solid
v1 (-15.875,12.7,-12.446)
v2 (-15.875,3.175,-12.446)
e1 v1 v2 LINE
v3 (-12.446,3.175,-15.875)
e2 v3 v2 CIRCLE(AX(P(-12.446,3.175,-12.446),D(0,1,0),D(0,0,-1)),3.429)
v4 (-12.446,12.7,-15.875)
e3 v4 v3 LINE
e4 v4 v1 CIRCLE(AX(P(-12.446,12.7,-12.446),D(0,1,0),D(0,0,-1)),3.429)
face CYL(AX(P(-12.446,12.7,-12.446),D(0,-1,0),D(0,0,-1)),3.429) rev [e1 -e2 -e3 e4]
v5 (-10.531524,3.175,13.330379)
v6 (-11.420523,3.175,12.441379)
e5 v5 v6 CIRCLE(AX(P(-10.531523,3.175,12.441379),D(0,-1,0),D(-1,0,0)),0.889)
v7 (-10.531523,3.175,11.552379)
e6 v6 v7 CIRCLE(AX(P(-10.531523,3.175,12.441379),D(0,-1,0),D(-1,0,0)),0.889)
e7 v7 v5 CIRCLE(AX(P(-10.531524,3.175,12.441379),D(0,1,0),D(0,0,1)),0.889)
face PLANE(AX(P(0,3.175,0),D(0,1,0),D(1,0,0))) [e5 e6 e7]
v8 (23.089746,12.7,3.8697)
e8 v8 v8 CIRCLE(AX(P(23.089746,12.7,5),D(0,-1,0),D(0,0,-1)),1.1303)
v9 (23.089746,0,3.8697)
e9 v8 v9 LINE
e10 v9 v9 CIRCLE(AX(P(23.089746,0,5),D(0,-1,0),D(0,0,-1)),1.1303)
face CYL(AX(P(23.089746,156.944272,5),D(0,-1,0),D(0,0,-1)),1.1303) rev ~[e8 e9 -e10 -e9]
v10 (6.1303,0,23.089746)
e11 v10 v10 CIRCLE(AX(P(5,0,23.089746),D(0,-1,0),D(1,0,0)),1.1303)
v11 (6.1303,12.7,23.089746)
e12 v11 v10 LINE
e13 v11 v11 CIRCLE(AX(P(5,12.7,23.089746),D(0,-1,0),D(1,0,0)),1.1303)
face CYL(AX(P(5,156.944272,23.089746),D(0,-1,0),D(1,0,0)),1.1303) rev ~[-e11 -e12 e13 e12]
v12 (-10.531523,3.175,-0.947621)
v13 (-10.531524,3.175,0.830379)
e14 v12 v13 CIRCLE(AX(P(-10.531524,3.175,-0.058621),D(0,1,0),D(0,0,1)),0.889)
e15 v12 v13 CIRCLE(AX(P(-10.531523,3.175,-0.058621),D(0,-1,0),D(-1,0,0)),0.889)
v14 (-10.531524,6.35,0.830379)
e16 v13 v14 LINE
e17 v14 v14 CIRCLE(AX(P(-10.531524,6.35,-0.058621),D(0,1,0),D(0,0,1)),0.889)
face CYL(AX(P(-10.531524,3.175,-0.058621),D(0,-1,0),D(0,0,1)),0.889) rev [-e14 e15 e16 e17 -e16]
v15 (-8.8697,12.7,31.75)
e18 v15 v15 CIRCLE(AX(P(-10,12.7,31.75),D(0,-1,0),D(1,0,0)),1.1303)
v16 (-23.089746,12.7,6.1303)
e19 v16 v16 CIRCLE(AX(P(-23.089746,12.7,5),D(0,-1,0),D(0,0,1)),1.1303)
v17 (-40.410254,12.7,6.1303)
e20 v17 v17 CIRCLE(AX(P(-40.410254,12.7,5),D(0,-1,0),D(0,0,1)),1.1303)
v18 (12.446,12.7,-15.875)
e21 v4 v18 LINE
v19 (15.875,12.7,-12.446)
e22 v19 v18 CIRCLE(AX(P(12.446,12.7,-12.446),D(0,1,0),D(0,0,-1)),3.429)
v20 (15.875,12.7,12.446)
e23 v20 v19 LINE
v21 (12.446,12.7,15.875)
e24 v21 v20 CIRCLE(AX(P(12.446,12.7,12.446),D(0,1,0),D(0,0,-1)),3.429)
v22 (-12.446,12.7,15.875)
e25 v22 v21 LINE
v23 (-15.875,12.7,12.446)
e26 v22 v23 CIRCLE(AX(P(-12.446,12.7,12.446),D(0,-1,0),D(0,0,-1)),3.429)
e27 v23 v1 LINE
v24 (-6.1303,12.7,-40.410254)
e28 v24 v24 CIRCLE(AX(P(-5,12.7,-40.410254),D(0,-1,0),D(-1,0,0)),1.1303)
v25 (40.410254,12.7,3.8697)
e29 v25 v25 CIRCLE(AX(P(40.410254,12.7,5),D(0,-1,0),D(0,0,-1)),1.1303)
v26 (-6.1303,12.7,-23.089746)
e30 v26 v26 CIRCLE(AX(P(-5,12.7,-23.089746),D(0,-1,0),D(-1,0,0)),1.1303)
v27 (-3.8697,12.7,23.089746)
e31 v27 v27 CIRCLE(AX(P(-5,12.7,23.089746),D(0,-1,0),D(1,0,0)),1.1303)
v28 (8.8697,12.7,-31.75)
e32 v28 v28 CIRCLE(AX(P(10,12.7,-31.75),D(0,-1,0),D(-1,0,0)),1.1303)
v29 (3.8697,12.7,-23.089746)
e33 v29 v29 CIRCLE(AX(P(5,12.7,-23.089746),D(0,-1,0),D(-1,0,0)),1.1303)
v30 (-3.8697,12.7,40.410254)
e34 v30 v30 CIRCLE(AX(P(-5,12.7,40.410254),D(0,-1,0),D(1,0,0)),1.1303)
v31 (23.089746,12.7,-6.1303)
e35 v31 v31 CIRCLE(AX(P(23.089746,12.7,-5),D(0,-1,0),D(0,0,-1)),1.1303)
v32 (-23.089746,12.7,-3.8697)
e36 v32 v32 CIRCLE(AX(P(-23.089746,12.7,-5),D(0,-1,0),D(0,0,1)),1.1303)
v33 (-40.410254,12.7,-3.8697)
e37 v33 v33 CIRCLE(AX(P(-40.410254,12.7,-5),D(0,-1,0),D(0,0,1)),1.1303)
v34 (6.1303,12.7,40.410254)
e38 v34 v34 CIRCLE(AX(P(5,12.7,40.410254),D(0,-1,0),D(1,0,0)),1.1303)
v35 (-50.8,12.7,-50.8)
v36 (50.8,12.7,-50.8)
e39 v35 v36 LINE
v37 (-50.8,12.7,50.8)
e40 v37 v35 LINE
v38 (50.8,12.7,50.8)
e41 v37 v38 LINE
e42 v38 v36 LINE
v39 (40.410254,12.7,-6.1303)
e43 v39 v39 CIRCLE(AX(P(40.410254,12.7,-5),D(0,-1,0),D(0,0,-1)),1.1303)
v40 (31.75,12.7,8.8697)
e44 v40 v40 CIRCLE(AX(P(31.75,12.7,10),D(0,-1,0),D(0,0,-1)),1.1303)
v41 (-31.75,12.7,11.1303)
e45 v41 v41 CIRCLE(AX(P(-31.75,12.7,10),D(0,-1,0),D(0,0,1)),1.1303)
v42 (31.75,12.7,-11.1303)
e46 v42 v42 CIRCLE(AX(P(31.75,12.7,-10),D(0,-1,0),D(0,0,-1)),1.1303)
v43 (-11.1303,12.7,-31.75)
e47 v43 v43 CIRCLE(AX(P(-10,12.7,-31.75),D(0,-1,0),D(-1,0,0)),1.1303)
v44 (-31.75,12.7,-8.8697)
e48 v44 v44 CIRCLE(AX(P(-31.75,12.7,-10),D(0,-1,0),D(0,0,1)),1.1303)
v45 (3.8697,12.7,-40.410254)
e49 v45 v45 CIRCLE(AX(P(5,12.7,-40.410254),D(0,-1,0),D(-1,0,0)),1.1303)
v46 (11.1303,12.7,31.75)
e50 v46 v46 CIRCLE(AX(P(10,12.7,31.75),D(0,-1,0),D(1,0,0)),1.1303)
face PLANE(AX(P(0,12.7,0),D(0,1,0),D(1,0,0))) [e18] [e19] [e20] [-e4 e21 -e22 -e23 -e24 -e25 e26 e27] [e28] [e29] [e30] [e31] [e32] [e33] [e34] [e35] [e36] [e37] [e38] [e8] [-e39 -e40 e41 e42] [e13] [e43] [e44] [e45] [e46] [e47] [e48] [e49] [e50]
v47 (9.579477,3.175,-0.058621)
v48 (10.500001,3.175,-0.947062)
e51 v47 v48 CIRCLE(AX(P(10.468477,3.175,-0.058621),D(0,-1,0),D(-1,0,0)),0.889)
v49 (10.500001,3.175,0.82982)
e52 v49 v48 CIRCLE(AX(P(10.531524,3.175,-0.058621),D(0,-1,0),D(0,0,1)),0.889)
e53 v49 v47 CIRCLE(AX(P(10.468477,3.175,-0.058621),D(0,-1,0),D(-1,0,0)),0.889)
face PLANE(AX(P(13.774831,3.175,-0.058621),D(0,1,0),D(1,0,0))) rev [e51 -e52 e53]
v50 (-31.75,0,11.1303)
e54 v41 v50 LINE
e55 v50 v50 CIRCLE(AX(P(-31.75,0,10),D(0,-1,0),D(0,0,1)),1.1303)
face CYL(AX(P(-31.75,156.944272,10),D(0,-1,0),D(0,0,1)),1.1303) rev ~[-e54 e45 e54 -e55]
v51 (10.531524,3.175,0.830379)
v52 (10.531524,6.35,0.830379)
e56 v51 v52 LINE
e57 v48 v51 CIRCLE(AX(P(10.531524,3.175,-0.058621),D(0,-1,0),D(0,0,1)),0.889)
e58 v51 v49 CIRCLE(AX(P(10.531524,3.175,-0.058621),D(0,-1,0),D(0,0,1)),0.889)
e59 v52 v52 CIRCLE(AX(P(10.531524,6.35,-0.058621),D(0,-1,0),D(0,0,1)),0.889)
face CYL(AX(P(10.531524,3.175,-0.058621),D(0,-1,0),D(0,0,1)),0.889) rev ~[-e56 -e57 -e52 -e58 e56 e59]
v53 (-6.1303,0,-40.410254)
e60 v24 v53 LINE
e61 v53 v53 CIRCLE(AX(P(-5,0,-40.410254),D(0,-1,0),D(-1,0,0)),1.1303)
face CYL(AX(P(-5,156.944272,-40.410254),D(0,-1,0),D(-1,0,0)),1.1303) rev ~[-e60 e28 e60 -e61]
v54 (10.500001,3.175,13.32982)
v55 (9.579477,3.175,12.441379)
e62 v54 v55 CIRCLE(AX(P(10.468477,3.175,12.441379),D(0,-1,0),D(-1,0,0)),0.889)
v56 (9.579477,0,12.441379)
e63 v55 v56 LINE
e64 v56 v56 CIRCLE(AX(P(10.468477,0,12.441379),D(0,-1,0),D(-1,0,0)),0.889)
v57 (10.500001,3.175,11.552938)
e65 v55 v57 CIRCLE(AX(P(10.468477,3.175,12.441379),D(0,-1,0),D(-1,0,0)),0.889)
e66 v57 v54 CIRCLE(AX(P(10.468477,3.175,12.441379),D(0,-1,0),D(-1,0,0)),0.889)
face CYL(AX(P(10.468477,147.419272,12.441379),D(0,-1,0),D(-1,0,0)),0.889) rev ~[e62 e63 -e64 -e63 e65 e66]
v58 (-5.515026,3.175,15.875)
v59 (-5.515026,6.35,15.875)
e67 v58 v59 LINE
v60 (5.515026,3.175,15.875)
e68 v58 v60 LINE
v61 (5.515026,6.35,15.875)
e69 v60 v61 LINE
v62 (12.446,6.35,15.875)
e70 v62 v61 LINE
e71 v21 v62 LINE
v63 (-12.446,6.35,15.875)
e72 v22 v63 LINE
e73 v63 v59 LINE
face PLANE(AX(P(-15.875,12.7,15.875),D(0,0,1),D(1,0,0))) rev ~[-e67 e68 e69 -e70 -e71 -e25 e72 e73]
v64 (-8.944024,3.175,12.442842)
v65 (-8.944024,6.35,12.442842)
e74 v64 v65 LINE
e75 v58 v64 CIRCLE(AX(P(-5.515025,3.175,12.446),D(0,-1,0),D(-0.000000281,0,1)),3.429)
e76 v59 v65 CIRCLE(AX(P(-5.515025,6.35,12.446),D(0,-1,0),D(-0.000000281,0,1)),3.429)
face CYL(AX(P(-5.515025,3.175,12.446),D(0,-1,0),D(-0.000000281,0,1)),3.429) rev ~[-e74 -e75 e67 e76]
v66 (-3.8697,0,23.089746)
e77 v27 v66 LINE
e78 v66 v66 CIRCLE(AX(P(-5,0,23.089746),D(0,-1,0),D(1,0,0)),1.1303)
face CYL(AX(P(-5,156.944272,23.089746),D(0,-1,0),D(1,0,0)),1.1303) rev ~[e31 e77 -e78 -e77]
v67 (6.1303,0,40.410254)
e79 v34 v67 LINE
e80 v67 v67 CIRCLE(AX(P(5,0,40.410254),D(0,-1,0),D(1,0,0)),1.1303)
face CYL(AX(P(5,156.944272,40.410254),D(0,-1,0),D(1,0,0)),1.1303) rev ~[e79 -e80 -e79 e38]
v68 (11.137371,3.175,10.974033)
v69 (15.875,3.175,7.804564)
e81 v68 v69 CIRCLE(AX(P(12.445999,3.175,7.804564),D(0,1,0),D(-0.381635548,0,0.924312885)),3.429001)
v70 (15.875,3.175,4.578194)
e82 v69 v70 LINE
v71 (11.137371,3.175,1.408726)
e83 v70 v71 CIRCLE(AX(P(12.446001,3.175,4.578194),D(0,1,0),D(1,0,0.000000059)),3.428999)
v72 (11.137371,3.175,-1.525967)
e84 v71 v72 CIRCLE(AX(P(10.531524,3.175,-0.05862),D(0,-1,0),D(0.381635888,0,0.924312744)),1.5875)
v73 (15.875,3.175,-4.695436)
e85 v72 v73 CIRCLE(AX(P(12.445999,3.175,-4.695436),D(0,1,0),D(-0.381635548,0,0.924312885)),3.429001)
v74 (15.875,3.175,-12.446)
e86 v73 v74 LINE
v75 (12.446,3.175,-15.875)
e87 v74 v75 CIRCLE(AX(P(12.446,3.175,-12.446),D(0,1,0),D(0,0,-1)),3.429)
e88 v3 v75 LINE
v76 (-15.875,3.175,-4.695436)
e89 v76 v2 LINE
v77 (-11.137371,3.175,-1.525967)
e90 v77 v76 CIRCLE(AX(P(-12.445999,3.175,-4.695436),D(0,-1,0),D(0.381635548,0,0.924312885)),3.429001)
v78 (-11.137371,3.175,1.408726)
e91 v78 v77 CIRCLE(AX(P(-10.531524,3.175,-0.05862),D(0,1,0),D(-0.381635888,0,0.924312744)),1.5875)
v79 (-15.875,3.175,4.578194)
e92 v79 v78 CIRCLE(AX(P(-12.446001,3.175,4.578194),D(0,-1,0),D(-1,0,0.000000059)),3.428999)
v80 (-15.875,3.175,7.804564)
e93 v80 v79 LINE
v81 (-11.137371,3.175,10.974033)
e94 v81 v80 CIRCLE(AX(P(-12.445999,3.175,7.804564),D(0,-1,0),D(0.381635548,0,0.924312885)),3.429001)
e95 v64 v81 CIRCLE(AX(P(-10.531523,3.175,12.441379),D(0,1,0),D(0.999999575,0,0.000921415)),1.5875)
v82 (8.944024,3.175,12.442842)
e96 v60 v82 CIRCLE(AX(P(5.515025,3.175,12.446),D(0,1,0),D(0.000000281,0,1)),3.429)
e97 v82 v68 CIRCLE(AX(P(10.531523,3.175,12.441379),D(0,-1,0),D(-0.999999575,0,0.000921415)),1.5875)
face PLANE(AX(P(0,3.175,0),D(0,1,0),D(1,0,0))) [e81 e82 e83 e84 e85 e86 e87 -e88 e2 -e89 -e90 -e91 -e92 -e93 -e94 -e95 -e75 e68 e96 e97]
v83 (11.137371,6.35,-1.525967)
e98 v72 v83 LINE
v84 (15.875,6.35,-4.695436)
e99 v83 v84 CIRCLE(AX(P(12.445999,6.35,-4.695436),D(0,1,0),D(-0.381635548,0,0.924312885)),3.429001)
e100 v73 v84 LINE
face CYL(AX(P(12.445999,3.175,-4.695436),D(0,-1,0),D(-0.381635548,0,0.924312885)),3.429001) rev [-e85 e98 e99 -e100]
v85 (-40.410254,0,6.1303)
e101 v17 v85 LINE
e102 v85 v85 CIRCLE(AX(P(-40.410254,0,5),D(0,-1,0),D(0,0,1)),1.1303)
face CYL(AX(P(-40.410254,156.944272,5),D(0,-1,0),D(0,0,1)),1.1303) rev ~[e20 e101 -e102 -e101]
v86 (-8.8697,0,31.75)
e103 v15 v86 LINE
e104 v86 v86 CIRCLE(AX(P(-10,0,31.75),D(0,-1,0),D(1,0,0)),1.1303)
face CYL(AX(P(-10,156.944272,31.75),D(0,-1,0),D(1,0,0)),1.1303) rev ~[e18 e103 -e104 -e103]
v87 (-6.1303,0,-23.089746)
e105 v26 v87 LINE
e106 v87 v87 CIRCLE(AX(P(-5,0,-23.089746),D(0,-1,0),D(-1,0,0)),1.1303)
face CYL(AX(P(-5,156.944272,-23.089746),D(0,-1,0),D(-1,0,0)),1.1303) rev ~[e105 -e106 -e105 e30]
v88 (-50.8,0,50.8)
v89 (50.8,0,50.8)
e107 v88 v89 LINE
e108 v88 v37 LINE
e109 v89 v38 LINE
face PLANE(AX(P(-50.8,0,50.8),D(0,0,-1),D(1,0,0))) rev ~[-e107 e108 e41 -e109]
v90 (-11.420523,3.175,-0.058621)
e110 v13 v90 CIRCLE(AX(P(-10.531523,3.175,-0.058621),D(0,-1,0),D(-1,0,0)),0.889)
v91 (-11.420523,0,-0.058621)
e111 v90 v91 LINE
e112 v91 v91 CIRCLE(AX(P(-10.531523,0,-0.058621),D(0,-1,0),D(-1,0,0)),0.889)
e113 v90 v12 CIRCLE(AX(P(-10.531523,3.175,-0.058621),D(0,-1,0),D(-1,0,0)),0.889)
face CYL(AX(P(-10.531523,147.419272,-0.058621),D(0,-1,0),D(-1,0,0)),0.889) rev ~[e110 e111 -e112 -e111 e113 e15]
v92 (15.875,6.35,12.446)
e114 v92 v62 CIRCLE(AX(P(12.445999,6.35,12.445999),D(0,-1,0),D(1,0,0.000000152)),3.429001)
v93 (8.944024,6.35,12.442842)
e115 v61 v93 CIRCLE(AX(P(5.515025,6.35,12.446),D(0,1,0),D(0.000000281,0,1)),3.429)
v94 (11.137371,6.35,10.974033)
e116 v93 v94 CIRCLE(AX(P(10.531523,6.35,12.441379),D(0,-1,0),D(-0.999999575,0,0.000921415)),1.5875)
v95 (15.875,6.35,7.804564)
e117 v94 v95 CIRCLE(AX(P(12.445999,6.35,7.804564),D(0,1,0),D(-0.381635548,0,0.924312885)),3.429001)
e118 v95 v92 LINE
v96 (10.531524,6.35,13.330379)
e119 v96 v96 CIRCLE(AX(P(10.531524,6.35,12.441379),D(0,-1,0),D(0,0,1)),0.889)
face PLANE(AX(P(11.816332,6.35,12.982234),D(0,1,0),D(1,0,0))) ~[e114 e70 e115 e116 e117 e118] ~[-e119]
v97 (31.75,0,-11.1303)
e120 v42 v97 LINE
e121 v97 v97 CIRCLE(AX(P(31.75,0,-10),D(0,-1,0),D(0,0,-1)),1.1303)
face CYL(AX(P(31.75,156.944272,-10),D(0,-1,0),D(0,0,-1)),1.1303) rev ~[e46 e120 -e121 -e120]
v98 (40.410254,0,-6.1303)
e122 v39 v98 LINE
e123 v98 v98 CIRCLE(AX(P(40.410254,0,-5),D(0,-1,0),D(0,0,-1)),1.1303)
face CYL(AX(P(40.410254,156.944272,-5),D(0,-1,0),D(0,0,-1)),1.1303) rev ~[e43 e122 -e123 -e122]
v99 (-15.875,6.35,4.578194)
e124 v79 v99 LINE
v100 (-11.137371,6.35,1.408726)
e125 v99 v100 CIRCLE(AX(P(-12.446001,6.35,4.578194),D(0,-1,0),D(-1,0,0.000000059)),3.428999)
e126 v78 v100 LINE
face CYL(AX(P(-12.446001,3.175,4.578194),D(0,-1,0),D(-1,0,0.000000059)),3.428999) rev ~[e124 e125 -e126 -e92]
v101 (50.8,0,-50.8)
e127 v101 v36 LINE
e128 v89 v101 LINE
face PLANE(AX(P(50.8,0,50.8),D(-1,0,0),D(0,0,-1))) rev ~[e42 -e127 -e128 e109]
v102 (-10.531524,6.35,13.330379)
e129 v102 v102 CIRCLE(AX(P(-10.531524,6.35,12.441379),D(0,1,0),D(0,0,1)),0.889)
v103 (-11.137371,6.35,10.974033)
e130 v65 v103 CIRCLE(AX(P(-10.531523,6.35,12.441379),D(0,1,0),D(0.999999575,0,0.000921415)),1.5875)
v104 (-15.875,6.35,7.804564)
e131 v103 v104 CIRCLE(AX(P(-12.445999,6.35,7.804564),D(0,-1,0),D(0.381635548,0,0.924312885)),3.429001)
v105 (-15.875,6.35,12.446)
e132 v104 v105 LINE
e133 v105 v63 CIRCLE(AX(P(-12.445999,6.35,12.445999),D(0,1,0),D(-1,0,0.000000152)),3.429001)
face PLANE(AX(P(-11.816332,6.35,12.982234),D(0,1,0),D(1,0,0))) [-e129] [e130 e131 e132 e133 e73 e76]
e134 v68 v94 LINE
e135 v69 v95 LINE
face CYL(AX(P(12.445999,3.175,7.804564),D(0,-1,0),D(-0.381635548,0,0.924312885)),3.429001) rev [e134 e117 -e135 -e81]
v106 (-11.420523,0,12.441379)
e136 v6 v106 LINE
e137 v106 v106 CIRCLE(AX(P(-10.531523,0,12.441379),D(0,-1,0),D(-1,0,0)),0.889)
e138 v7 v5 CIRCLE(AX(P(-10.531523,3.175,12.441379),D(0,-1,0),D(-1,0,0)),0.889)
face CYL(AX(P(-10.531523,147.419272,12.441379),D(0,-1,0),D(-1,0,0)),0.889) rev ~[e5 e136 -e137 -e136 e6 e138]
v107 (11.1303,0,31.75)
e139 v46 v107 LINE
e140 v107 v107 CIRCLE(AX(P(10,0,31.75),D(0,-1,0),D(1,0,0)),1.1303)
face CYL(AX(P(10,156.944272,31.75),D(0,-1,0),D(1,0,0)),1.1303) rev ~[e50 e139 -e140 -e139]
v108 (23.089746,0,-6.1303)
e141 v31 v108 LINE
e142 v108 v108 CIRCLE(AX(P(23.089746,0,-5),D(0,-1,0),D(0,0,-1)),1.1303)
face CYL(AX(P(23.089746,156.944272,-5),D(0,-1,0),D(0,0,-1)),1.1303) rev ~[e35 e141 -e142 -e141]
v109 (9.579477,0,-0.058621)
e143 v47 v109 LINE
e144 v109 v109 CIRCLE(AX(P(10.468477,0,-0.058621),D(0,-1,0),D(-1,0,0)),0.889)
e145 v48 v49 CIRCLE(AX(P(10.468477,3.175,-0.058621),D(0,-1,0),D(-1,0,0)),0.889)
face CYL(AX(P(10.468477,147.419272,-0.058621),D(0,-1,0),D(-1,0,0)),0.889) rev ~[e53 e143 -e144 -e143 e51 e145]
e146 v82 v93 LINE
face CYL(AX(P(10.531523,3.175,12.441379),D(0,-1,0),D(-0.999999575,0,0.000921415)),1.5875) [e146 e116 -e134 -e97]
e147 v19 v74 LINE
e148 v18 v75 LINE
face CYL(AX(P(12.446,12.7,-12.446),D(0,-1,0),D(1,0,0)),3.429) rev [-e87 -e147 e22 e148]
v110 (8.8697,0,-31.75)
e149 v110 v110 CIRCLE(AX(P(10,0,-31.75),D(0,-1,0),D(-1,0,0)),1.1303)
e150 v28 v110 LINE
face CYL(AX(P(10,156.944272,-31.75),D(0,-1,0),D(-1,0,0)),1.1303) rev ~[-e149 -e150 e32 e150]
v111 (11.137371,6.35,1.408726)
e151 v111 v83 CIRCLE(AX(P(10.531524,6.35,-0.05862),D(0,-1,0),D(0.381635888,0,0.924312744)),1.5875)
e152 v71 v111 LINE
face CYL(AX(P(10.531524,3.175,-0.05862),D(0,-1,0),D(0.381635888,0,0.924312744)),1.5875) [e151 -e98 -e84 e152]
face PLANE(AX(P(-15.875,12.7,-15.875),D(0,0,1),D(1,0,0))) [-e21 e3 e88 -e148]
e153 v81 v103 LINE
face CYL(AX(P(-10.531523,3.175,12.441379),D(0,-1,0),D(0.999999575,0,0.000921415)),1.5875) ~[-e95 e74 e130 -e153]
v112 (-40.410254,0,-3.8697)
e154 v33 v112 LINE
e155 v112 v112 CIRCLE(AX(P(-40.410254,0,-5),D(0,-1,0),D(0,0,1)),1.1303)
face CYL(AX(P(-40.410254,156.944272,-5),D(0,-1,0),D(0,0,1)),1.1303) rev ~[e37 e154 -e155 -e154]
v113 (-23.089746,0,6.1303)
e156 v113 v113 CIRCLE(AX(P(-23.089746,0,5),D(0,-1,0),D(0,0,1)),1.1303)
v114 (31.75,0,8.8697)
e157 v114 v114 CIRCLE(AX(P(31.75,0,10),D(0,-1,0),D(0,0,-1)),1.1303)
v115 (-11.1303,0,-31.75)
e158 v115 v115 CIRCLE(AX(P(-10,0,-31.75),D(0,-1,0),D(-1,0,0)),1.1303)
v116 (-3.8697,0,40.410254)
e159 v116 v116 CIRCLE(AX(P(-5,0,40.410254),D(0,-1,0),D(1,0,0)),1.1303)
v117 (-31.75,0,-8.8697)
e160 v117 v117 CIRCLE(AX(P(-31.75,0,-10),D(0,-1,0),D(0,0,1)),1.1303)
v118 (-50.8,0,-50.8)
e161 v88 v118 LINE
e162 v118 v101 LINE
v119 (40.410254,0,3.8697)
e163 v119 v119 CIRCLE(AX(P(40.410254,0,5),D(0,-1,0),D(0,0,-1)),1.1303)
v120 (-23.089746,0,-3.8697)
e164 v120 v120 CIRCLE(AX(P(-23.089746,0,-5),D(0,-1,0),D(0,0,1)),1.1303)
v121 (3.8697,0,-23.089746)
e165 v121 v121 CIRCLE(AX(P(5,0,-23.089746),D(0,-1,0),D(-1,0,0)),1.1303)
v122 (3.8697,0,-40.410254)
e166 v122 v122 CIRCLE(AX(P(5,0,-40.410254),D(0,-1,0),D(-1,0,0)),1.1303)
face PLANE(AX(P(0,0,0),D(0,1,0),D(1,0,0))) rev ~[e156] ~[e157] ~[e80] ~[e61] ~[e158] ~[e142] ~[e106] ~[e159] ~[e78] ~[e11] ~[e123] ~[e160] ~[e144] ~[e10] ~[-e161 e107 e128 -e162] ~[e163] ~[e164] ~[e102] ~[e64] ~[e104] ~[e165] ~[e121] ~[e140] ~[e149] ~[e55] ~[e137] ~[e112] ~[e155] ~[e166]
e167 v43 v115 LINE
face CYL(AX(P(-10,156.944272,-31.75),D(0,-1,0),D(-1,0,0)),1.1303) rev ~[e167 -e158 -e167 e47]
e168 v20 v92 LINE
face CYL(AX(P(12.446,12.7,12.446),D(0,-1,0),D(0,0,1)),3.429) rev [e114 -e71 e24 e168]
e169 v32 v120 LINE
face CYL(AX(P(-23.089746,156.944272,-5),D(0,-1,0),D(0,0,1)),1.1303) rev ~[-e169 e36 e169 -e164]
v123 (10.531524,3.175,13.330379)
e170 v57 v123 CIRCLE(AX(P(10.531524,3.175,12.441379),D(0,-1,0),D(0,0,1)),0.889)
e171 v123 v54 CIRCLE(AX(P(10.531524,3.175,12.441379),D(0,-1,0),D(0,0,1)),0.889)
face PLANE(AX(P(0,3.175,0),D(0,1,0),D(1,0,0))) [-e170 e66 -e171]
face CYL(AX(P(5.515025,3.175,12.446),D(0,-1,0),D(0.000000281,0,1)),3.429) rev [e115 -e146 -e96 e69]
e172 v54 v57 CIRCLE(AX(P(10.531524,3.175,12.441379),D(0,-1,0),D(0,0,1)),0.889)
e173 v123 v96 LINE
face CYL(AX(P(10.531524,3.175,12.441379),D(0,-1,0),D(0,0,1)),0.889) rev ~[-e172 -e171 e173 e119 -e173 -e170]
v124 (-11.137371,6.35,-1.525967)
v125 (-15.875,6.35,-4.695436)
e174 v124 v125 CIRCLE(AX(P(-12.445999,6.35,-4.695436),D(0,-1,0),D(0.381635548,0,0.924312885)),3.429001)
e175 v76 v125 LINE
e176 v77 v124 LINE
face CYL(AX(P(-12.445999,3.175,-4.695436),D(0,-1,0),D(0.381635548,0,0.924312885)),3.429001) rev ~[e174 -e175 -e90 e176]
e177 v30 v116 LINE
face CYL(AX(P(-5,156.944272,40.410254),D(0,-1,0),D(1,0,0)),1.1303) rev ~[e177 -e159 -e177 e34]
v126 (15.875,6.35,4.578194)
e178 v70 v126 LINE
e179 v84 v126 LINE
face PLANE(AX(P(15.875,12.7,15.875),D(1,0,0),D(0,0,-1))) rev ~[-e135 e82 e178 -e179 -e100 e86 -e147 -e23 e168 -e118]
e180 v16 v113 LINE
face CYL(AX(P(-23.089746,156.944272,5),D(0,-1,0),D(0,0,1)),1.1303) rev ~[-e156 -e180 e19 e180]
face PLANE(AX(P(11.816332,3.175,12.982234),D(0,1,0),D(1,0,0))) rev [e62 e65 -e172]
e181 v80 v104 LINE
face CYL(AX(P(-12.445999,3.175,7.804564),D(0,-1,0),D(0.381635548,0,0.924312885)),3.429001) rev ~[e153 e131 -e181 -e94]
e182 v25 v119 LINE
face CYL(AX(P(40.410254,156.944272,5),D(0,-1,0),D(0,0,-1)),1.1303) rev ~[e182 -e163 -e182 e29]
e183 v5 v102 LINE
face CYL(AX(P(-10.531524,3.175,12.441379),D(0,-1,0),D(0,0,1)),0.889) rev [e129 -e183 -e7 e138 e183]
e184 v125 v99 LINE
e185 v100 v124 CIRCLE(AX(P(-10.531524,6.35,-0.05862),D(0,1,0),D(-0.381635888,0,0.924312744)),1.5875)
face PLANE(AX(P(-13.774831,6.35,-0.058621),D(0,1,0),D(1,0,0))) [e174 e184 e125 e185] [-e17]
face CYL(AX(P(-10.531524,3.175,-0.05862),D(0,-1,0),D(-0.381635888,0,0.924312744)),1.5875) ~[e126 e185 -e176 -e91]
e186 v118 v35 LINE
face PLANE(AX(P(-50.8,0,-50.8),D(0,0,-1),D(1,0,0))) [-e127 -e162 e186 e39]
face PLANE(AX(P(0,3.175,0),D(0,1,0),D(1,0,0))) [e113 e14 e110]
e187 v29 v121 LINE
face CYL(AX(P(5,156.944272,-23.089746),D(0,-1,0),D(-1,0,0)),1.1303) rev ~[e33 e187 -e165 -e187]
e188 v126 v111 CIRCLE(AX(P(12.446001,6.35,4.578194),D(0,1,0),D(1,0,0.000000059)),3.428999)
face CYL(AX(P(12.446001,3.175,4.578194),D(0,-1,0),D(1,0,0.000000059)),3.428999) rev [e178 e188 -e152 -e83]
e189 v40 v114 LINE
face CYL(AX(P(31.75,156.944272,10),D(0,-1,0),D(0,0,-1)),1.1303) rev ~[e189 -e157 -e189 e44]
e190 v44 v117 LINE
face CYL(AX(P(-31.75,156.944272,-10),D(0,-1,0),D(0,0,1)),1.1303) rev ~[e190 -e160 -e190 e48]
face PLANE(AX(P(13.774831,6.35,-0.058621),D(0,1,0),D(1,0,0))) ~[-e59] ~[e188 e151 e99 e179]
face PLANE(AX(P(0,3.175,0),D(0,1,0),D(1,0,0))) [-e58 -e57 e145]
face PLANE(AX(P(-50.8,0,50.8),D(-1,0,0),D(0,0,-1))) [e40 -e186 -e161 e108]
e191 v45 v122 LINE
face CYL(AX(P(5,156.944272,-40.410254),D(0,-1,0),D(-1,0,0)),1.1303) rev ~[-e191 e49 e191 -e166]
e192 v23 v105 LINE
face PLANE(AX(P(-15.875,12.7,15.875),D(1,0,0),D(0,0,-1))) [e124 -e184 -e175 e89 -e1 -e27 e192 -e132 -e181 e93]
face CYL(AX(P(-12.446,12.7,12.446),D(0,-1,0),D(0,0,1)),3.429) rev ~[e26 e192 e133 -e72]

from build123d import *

# Parameters (mm, degrees)
SKETCH1_W             = 101.6
SKETCH1_H             = 101.6
BOSS_EXTRUDE1_DEPTH   = 12.7
F_4_40_TAPPED_HOLE3_D = 2.2606
CIRPATTERN2_COUNT     = 4
SKETCH6_W             = 31.75
SKETCH6_H             = 31.75
CUT_EXTRUDE3_DEPTH    = 9.525
FILLET1_R             = 3.429
F_2_56_TAPPED_HOLE2_D = 1.778
SKETCH17_R            = 0.889
BOSS_EXTRUDE3_DEPTH   = 3.175


with BuildPart() as part:
    # Sketch1 → Boss-Extrude1 (new body)
    with BuildSketch(Plane(origin=(0, 0, 0), x_dir=(1, 0, 0), z_dir=(0, 1, 0))):
        Rectangle(SKETCH1_W, SKETCH1_H)
    extrude(amount=BOSS_EXTRUDE1_DEPTH)

    # 4-40 Tapped Hole3 (through all)
    with Locations(Plane(origin=(0, 12.7, 0), x_dir=(1, 0, 0), z_dir=(0, 1, 0))):
        with Locations((-5, 23.089746), (5, 23.089746), (10, 31.75), (5, 40.410254), (-5, 40.410254), (-10, 31.75)):
            f_4_40_tapped_hole3 = Hole(F_4_40_TAPPED_HOLE3_D / 2)

    # CirPattern2: 4-40 Tapped Hole3 ×4 about axis
    cirpattern2_axis = Axis((0, 0, 0), (0, 1, 0))
    for i in range(1, CIRPATTERN2_COUNT):
        add(f_4_40_tapped_hole3.rotate(cirpattern2_axis, i * 360 / CIRPATTERN2_COUNT), mode=Mode.SUBTRACT)

    # Sketch6 → Cut-Extrude3 (cut)
    with BuildSketch(Plane(origin=(0, 12.7, 0), x_dir=(1, 0, 0), z_dir=(0, 1, 0))):
        Rectangle(SKETCH6_W, SKETCH6_H)
    extrude(amount=-CUT_EXTRUDE3_DEPTH, mode=Mode.SUBTRACT)

    # Fillet1
    fillet1_edges = [part.edges().sort_by_distance(p)[0] for p in [
        (15.875, 7.9375, -15.875),
        (15.875, 7.9375, 15.875),
        (-15.875, 7.9375, 15.875),
        (-15.875, 7.9375, -15.875),
    ]]
    fillet(fillet1_edges, radius=FILLET1_R)

    # 2-56 Tapped Hole2 (through all)
    with Locations(Plane(origin=(-26.456272, 3.175, -55.350427), x_dir=(1, 0, 0), z_dir=(0, 1, 0))):
        with Locations((15.924749, -55.291806), (15.924749, -67.791806), (36.924749, -67.791806), (36.924749, -55.291806)):
            Hole(F_2_56_TAPPED_HOLE2_D / 2)

    # Sketch17 → Boss-Extrude3 (add)
    with BuildSketch(Plane(origin=(0, 3.175, 0), x_dir=(1, 0, 0), z_dir=(0, 1, 0))):
        with BuildLine():
            Line((-12.446, -15.875), (-5.515026, -15.875))
            ThreePointArc((-5.515026, -15.875), (-7.940811, -14.869552), (-8.944024, -12.442842))
            ThreePointArc((-8.944024, -12.442842), (-9.6482, -11.122328), (-11.137371, -10.974033))
            ThreePointArc((-11.137371, -10.974033), (-14.352666, -10.654593), (-15.875, -7.804564))
            Line((-15.875, -7.804564), (-15.875, -12.446))
            ThreePointArc((-15.875, -12.446), (-14.870669, -14.870669), (-12.446, -15.875))
        make_face()
        with Locations(Location((-10.531524, -12.441379, 0), (0, 0, 270))):  # turned: the seam where the file's is
            Circle(SKETCH17_R, mode=Mode.SUBTRACT)
        with BuildLine():
            Line((-15.875, 4.695436), (-15.875, -4.578194))
            ThreePointArc((-15.875, -4.578194), (-14.352666, -1.728165), (-11.137371, -1.408726))
            ThreePointArc((-11.137371, -1.408726), (-8.944024, 0.058621), (-11.137371, 1.525967))
            ThreePointArc((-11.137371, 1.525967), (-14.352666, 1.845407), (-15.875, 4.695436))
        make_face()
        with Locations(Location((-10.531524, 0.058621, 0), (0, 0, 270))):  # turned: the seam where the file's is
            Circle(SKETCH17_R, mode=Mode.SUBTRACT)
    boss_extrude3 = extrude(amount=BOSS_EXTRUDE3_DEPTH)

    # Mirror2: Boss-Extrude3 across plane
    add(boss_extrude3.mirror(Plane(origin=(0, 0, 0), x_dir=(0, 0, 1), z_dir=(1, 0, 0))))


solid = part.part
